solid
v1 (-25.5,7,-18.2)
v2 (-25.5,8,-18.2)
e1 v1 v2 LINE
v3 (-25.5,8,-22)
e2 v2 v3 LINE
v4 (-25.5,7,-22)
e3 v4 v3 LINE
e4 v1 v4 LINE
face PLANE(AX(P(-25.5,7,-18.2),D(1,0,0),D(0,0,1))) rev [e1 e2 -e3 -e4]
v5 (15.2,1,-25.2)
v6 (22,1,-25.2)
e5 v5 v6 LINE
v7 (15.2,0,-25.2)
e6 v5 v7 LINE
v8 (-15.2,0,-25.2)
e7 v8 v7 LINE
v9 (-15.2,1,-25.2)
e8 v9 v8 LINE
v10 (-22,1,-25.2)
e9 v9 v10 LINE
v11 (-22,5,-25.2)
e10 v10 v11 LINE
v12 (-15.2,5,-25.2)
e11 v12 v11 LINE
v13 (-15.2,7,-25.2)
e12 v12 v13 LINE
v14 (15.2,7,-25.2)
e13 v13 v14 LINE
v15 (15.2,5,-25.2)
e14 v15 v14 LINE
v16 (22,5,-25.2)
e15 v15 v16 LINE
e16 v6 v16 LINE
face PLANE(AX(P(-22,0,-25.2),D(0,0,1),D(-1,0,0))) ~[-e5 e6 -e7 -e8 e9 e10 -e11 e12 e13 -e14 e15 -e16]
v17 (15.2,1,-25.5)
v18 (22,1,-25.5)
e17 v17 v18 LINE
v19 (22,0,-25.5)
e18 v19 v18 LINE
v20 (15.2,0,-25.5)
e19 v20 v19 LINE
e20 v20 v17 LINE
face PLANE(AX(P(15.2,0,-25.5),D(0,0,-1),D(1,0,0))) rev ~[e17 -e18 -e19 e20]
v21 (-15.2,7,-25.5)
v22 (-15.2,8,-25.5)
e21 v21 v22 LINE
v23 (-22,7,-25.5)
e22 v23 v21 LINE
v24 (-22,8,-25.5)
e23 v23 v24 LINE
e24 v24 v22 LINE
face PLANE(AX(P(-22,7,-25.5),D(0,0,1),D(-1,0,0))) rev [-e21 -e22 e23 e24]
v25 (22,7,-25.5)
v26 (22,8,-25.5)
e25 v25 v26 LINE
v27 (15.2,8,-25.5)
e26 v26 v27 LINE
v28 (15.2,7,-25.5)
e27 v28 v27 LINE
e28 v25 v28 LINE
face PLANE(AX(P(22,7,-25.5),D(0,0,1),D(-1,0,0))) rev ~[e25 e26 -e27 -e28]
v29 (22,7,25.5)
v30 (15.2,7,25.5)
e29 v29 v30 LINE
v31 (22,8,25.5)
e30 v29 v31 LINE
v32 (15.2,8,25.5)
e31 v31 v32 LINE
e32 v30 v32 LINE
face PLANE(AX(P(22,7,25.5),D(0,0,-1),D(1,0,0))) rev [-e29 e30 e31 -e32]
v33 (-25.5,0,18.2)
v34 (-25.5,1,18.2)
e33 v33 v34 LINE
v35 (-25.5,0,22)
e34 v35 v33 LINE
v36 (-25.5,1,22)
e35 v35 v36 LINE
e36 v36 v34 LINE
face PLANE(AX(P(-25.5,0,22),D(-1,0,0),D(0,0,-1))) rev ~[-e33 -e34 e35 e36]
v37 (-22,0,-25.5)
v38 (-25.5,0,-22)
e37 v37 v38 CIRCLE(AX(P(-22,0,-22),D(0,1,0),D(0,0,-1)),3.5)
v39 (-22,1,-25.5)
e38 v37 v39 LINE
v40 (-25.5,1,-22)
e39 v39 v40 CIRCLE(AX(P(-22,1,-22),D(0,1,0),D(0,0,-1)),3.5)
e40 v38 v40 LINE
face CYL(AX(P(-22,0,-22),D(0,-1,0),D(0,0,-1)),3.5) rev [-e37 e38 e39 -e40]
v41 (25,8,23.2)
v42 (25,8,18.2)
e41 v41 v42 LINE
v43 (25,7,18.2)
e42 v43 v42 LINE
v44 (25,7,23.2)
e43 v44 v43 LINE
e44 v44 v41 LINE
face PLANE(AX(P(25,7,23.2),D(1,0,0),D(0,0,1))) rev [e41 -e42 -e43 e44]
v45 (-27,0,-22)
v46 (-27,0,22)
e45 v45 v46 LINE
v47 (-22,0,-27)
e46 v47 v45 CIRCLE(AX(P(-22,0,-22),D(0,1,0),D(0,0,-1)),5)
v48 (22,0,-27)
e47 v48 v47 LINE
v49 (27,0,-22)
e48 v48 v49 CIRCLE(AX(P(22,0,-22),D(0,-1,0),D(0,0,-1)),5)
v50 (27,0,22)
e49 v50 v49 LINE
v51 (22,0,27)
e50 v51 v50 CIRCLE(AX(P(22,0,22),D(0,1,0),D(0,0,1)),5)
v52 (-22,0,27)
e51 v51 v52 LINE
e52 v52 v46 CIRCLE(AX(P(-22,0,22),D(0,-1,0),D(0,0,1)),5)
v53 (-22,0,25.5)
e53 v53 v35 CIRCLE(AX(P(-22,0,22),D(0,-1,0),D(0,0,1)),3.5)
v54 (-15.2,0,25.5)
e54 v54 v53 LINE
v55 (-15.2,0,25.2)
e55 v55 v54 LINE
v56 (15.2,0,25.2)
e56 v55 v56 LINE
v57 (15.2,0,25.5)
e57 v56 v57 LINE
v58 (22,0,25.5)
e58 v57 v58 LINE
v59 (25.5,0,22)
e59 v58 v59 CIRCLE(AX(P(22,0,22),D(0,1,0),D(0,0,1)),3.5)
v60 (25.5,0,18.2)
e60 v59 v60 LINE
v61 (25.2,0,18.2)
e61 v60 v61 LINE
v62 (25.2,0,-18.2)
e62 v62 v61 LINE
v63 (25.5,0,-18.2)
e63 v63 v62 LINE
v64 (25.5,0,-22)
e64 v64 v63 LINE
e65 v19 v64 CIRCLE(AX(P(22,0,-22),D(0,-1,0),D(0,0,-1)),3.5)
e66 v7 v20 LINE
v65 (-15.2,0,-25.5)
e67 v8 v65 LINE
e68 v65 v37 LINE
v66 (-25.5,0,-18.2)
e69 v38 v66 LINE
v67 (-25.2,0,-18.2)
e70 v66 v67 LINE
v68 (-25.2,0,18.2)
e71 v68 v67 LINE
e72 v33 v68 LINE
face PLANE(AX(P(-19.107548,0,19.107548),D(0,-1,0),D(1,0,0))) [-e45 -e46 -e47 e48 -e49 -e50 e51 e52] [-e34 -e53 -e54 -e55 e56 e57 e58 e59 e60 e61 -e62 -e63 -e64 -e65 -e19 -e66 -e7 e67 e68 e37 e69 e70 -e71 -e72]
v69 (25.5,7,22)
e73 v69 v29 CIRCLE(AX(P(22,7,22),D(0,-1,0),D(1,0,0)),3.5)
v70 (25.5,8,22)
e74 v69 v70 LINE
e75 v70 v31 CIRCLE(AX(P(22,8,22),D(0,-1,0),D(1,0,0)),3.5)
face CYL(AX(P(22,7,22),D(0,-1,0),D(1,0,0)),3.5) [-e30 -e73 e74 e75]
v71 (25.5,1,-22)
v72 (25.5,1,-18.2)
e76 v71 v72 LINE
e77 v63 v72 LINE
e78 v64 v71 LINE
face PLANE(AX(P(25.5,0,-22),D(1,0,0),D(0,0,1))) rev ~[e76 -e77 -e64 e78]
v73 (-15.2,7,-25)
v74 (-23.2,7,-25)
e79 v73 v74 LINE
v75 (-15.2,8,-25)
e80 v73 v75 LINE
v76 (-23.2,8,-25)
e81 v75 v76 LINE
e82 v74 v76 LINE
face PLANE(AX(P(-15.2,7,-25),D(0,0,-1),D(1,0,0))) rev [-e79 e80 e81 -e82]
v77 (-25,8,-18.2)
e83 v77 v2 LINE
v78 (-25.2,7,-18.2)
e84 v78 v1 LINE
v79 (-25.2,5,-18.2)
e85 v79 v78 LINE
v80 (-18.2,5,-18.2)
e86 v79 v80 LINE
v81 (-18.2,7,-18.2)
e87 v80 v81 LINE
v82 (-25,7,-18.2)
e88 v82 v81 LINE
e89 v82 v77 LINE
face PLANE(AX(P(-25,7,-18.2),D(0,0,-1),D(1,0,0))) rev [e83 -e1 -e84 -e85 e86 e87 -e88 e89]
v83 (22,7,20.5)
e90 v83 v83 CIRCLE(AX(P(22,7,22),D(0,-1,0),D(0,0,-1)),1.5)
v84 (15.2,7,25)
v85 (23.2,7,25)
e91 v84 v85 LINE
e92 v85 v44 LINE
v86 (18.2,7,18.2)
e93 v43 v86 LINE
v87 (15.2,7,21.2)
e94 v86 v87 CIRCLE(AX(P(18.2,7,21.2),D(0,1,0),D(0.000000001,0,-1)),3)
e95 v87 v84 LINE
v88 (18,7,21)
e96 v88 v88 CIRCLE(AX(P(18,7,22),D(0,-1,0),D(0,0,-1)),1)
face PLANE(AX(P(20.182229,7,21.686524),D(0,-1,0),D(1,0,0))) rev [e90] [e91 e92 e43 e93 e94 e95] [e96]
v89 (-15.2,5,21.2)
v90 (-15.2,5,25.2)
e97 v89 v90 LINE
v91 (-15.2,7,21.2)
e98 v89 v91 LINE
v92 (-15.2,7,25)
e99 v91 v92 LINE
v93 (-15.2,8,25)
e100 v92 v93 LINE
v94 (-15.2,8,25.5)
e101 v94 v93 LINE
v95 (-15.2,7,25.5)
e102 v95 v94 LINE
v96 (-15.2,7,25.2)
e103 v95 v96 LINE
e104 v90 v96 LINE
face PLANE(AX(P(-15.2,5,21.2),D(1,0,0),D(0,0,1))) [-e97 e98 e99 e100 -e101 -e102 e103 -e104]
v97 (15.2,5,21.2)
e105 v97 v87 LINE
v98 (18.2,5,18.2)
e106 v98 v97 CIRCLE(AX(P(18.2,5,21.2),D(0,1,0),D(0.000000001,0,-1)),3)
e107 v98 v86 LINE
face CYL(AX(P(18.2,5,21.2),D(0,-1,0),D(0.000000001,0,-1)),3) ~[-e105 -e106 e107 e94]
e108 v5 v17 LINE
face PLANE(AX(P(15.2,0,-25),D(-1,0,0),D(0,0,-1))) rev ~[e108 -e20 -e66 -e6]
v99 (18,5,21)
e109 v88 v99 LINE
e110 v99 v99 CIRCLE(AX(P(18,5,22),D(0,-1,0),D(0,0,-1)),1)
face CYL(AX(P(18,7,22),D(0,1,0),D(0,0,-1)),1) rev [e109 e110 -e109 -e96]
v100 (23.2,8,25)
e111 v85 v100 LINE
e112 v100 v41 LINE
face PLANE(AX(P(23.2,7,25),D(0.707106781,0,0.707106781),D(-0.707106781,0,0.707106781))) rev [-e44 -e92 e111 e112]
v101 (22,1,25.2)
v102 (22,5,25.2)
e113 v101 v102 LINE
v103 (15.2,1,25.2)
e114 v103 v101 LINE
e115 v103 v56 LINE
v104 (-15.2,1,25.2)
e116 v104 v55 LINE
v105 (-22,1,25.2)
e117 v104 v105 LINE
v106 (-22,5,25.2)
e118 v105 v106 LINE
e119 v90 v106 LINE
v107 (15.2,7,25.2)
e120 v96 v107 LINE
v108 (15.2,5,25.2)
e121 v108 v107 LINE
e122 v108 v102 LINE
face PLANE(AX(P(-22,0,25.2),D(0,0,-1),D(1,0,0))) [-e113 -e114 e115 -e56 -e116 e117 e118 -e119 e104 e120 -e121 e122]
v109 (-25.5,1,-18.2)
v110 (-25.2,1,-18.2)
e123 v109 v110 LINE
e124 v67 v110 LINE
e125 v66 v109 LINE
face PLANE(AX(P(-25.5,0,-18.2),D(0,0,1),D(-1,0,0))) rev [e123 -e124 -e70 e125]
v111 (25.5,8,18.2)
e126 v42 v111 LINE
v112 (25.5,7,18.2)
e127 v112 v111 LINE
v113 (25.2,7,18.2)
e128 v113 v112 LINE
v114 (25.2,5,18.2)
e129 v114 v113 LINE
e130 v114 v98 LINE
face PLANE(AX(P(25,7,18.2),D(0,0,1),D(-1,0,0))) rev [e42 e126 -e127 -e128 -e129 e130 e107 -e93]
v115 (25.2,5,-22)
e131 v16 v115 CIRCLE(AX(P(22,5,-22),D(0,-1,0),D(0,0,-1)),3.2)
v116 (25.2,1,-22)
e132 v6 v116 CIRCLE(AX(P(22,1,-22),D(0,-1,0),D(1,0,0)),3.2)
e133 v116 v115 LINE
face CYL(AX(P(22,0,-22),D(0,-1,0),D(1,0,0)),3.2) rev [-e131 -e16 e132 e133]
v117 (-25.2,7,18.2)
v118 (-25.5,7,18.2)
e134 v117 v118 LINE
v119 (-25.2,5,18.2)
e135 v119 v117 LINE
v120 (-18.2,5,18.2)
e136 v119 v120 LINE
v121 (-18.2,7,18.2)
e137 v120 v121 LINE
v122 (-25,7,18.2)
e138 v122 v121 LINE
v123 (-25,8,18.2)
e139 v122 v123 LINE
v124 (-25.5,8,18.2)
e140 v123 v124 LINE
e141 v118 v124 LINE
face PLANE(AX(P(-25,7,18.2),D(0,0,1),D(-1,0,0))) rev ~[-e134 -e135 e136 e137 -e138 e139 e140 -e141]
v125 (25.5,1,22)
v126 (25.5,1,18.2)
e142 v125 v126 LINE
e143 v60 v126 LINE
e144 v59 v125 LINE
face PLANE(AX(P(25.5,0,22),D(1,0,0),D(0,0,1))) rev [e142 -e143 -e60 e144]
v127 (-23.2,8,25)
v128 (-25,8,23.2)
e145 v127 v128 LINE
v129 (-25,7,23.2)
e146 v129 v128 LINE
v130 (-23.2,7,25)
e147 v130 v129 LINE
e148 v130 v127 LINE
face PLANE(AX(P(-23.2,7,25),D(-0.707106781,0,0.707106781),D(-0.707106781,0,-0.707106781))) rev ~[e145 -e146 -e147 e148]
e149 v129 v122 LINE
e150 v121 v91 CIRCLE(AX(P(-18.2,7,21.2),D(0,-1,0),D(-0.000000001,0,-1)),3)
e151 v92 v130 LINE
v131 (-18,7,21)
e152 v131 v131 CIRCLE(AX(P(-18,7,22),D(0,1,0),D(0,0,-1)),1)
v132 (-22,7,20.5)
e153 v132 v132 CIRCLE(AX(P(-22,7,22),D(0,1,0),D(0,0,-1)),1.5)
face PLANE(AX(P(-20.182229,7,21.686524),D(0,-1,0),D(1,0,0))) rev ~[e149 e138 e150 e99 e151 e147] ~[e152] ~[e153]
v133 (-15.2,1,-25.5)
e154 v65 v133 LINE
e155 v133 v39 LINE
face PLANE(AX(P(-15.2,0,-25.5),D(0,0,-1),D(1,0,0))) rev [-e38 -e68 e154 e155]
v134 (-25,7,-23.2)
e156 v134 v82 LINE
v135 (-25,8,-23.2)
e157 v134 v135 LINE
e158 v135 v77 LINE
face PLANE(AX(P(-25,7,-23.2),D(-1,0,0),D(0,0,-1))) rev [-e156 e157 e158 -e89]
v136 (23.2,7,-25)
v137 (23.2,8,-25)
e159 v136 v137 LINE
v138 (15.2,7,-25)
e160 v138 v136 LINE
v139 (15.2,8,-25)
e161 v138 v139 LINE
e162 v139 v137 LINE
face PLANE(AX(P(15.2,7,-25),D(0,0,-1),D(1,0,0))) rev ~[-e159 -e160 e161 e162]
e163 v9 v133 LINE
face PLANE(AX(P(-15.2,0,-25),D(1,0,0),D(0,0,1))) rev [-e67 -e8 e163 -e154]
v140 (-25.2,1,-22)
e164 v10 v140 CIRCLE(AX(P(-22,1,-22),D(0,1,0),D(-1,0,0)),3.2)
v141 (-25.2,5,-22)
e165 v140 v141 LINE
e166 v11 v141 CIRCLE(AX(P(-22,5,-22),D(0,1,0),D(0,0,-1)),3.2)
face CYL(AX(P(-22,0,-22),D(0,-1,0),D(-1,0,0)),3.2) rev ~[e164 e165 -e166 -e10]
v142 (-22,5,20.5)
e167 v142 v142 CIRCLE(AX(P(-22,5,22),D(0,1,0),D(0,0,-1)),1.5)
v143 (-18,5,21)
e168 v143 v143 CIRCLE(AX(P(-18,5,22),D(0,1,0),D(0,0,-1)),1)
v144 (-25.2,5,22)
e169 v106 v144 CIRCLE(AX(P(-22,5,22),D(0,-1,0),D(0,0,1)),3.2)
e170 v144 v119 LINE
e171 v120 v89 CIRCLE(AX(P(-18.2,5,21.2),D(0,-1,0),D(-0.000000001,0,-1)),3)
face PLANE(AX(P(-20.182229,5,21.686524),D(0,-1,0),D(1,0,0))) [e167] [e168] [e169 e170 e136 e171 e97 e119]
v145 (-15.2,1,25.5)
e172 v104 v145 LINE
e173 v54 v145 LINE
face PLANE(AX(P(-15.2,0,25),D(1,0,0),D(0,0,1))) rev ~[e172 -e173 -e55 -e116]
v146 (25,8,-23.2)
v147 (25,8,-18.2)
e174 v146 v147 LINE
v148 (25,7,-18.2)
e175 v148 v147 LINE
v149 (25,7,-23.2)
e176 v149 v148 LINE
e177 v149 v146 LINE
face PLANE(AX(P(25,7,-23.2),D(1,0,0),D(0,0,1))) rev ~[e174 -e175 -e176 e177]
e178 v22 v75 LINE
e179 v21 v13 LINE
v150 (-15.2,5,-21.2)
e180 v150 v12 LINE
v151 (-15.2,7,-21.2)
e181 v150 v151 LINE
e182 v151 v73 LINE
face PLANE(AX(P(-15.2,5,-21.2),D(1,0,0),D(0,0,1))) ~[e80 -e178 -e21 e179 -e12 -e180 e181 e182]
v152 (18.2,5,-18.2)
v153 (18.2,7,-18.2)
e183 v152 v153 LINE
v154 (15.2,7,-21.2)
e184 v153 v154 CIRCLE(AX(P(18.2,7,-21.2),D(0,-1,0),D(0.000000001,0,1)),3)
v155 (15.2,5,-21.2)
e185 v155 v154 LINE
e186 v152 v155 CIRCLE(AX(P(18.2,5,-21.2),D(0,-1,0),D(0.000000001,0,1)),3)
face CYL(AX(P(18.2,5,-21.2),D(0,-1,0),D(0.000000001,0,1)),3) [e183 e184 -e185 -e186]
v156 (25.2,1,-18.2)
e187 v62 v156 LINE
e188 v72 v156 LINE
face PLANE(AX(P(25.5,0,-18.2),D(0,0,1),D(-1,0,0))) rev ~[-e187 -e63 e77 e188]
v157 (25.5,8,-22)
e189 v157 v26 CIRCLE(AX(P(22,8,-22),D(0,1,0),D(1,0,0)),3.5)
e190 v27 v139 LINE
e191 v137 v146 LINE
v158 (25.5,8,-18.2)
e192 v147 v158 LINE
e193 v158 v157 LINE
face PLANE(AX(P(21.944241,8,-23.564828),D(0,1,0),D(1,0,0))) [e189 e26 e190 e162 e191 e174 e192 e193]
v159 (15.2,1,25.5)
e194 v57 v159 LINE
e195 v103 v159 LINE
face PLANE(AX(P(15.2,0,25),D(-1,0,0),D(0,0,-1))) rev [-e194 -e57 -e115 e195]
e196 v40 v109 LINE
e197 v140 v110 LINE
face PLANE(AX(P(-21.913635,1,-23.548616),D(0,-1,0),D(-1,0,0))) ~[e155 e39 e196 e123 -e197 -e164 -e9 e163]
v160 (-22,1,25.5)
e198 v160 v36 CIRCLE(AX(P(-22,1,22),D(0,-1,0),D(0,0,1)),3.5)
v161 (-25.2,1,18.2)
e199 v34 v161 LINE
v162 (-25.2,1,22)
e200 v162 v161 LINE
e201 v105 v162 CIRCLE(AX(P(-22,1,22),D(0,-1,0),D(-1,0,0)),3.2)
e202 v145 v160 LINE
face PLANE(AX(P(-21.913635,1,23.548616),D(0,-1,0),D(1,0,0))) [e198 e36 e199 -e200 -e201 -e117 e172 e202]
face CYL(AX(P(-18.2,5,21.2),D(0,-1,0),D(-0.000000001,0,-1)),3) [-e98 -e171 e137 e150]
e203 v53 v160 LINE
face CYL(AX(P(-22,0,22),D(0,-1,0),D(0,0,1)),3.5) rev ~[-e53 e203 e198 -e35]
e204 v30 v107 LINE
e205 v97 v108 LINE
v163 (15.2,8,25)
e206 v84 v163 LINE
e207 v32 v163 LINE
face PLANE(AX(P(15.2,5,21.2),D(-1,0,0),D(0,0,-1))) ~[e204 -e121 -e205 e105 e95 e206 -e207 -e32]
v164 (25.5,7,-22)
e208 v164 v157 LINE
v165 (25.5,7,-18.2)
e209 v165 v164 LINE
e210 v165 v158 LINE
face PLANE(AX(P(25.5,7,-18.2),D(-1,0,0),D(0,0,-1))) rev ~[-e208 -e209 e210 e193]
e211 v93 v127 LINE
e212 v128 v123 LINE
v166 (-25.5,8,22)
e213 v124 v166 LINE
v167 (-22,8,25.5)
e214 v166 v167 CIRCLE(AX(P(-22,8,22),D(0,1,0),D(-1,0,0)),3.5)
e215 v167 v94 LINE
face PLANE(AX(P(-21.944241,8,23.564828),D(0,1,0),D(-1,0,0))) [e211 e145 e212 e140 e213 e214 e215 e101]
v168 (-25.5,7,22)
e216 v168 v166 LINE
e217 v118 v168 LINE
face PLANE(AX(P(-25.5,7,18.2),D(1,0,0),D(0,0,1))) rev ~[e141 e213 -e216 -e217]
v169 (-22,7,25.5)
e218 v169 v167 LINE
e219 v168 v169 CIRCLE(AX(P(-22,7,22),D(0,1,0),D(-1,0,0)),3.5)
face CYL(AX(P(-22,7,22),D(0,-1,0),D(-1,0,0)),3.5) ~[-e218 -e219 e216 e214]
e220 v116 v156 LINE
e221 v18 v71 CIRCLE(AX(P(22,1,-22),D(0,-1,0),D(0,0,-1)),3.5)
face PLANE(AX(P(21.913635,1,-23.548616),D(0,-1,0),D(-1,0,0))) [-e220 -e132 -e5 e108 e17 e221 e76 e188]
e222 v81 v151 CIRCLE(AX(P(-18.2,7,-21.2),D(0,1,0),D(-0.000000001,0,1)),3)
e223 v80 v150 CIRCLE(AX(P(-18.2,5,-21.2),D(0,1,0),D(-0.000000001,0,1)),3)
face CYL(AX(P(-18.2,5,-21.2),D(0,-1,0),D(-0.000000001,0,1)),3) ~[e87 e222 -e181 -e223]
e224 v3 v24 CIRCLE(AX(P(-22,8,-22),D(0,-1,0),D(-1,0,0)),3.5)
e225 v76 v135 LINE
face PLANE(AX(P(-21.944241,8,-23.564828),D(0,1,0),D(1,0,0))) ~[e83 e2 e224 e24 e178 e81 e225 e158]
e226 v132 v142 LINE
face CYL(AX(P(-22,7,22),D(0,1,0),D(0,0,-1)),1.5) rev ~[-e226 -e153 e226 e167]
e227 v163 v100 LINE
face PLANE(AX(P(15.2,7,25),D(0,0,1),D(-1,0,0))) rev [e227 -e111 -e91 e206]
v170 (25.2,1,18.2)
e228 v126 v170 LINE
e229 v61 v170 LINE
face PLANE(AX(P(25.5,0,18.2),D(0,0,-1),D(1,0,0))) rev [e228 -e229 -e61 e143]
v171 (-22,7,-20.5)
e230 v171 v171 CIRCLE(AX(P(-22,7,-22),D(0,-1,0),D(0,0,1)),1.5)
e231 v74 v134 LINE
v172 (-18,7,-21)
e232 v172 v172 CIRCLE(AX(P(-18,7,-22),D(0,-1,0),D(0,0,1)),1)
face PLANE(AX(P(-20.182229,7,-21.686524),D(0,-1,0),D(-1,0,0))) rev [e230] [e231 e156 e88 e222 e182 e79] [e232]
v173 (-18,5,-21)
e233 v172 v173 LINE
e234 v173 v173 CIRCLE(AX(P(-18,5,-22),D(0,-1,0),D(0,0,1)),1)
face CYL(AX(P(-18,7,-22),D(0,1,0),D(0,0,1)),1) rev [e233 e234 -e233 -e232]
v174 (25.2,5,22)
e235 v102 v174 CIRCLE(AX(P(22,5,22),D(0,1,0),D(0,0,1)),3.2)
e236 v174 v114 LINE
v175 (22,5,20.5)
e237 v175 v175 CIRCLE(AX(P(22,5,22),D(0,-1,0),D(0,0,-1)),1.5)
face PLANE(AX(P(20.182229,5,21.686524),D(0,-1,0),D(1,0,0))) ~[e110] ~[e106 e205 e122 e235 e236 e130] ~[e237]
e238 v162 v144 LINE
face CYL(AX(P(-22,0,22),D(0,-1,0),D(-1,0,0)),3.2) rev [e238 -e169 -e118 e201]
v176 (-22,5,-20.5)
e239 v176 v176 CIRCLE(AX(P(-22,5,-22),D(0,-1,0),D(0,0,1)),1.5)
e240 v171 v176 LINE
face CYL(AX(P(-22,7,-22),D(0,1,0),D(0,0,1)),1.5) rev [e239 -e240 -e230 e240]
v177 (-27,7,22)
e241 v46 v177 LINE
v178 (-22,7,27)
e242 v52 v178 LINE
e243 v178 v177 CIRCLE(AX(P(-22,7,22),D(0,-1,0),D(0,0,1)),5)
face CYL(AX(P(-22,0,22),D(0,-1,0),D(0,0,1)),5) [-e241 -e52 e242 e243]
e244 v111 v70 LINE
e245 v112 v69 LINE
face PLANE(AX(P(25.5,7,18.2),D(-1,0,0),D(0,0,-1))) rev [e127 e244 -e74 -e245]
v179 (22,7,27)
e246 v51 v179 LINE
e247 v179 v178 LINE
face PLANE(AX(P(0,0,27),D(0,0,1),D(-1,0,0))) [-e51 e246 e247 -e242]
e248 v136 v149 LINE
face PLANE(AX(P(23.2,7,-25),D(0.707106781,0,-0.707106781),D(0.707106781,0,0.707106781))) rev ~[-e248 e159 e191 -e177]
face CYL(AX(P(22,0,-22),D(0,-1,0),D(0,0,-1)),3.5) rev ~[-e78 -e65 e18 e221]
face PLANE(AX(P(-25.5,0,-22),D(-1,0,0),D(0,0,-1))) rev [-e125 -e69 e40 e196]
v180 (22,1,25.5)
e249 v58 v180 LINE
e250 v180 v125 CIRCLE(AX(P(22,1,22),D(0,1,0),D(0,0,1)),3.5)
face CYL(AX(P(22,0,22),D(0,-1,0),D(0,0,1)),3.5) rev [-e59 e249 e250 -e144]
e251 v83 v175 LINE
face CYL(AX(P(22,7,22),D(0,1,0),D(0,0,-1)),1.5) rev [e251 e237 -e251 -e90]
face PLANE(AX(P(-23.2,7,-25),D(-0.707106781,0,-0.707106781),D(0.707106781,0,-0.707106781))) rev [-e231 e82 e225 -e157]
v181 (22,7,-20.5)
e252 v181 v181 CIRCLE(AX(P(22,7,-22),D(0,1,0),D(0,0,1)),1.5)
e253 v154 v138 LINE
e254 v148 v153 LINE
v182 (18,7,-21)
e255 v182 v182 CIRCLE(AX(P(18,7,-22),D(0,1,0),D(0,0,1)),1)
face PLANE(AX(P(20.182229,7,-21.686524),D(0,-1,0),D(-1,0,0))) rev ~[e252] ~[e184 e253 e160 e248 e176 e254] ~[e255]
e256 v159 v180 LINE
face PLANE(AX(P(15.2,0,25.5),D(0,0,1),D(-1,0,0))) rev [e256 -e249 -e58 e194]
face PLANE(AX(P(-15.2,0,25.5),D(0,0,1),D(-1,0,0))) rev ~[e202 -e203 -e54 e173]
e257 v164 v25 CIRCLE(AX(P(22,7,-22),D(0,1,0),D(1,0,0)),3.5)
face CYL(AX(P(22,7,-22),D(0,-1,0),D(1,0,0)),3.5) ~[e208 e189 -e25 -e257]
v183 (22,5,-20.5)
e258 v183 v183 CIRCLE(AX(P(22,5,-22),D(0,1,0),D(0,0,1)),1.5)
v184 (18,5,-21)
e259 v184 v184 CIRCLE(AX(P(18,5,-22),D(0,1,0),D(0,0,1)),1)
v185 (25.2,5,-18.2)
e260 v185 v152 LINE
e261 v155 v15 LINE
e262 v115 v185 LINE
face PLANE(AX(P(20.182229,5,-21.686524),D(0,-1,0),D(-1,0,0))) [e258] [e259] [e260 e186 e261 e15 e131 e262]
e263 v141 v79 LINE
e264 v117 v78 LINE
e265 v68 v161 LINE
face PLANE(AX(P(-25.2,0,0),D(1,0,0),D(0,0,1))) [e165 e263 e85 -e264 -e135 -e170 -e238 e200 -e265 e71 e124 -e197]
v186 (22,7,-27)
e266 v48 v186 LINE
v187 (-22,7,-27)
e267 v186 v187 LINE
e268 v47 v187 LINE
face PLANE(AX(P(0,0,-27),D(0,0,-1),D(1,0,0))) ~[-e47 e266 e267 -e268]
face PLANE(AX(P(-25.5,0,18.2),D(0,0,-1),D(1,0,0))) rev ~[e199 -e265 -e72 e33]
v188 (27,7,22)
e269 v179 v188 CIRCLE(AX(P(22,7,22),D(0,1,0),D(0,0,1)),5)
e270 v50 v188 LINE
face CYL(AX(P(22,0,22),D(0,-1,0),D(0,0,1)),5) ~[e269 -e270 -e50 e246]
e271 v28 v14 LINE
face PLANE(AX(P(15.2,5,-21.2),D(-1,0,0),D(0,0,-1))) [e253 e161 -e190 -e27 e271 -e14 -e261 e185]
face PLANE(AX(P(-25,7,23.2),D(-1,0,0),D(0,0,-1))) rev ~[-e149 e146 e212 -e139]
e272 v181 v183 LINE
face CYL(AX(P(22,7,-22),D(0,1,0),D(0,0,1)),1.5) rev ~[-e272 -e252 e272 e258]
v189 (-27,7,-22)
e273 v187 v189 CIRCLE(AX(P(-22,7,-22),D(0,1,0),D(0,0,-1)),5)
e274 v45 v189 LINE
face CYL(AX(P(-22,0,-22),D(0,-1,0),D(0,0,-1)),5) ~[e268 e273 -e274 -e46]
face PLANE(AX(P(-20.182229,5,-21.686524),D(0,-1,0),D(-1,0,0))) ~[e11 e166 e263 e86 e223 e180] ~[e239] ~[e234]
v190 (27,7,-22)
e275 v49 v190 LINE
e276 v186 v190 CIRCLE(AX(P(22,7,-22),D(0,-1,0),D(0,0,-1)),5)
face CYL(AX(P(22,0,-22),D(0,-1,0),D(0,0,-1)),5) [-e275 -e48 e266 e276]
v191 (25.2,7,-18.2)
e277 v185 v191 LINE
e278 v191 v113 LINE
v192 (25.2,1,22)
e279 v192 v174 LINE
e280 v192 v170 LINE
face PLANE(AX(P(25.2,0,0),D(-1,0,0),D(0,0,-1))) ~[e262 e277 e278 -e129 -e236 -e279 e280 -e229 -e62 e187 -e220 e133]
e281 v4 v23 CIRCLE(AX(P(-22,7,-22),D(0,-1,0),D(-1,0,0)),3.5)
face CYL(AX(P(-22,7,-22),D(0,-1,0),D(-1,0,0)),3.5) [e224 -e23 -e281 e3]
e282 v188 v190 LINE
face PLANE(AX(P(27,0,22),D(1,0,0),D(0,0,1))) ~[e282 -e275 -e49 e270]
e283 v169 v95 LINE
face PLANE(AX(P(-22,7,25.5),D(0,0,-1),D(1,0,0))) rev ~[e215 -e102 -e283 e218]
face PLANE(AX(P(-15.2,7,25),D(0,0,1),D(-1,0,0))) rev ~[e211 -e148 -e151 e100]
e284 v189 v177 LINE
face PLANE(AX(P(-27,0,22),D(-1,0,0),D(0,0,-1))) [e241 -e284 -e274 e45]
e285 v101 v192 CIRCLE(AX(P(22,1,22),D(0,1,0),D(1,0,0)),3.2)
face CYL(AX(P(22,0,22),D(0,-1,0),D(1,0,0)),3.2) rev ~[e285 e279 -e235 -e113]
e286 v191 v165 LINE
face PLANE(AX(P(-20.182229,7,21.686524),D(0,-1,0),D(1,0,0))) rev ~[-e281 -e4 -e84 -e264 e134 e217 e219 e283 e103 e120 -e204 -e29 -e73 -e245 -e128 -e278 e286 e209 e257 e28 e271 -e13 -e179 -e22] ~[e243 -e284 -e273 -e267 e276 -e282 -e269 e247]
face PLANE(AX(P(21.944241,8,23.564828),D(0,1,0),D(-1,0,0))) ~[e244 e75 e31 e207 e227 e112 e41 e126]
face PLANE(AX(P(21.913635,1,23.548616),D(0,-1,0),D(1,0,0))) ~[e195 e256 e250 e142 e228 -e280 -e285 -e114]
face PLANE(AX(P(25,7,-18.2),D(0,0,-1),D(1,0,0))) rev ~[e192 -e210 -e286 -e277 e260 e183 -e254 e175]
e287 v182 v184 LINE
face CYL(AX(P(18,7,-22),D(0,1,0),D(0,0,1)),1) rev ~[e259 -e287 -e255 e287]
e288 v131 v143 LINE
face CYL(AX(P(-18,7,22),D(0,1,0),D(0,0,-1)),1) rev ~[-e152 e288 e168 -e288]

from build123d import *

# Parameters (mm, degrees)
EXTRUDE_2_DEPTH     = 7
EXTRUDE_START       = -2
EXTRUDE_3_DEPTH     = 2
EXTRUDE_4_DEPTH     = 1
SKETCH_11_R         = 1.5
SKETCH_11_R_2       = 1
CUT_EXTRUDE_2_DEPTH = 2
CUT_EXTRUDE_3_DEPTH = 1


with BuildPart() as part:
    # ｽｹｯﾁ7 → ﾎﾞｽ - 押し出し2 (new body)
    with BuildSketch(Plane(origin=(0, 0, 0), x_dir=(1, 0, 0), z_dir=(0, 1, 0))):
        with BuildLine():
            Line((22, 25.2), (0, 25.2))
            Line((0, 25.2), (0, 27))
            Line((0, 27), (22, 27))
            ThreePointArc((22, 27), (25.535533906, 25.535533906), (27, 22))
            Line((27, 22), (27, 0))
            Line((27, 0), (25.2, 0))
            Line((25.2, 0), (25.2, 22))
            ThreePointArc((25.2, 22), (24.2627417, 24.2627417), (22, 25.2))
        make_face()
    extrude(amount=EXTRUDE_2_DEPTH)

    # ｽｹｯﾁ8 → ﾎﾞｽ - 押し出し3 (add)
    with BuildSketch(Plane(origin=(0, 7, 0), x_dir=(1, 0, 0), z_dir=(0, 1, 0)).offset(EXTRUDE_START)):
        with BuildLine():
            Line((15.2, 21.2), (15.2, 25.2))
            Line((15.2, 25.2), (22, 25.2))
            ThreePointArc((22, 25.2), (24.2627417, 24.2627417), (25.2, 22))
            Line((25.2, 22), (25.2, 18.2))
            Line((25.2, 18.2), (18.2, 18.2))
            ThreePointArc((18.2, 18.2), (16.078679656, 19.078679656), (15.2, 21.2))
        make_face()
    extrude(amount=EXTRUDE_3_DEPTH)

    # ｽｹｯﾁ10 → ﾎﾞｽ - 押し出し4 (add)
    with BuildSketch(Plane(origin=(0, 7, 0), x_dir=(1, 0, 0), z_dir=(0, 1, 0))):
        with BuildLine():
            Line((25, 23.2), (25, 18.2))
            Line((25, 18.2), (25.5, 18.2))
            Line((25.5, 18.2), (25.5, 22))
            ThreePointArc((25.5, 22), (24.474873734, 24.474873734), (22, 25.5))
            Line((22, 25.5), (15.2, 25.5))
            Line((15.2, 25.5), (15.2, 25))
            Line((15.2, 25), (23.2, 25))
            Line((23.2, 25), (25, 23.2))
        make_face()
    extrude(amount=EXTRUDE_4_DEPTH)

    # ｽｹｯﾁ11 → ｶｯﾄ - 押し出し2 (cut)
    with BuildSketch(Plane(origin=(0, 7, 0), x_dir=(1, 0, 0), z_dir=(0, 1, 0))):
        with Locations(Location((22, 22, 0), (0, 0, 270))):
            Circle(SKETCH_11_R)
        with Locations(Location((18, 22, 0), (0, 0, 270))):
            Circle(SKETCH_11_R_2)
    extrude(amount=-CUT_EXTRUDE_2_DEPTH, mode=Mode.SUBTRACT)

    # ｽｹｯﾁ12 → ｶｯﾄ - 押し出し3 (cut)
    with BuildSketch(Plane(origin=(0, 0, 0), x_dir=(-1, 0, 0), z_dir=(0, -1, 0))):
        with BuildLine():
            Line((-22, 25), (-15.2, 25))
            Line((-15.2, 25), (-15.2, 25.5))
            Line((-15.2, 25.5), (-22, 25.5))
            ThreePointArc((-22, 25.5), (-24.474873734, 24.474873734), (-25.5, 22))
            Line((-25.5, 22), (-25.5, 18.2))
            Line((-25.5, 18.2), (-25, 18.2))
            Line((-25, 18.2), (-25, 22))
            ThreePointArc((-25, 22), (-24.121320344, 24.121320344), (-22, 25))
        make_face()
    extrude(amount=-CUT_EXTRUDE_3_DEPTH, mode=Mode.SUBTRACT)

    # ﾐﾗｰ1: part across plane


with BuildPart() as part_1:
    add(part.part)
    add(part.part.mirror(Plane(origin=(0, 0, 0), x_dir=(0, 0, 1), z_dir=(1, 0, 0))))

    # ﾐﾗｰ2: part across plane


with BuildPart() as part_2:
    add(part_1.part)
    add(part_1.part.mirror(Plane.XY))


solid = part_2.part
